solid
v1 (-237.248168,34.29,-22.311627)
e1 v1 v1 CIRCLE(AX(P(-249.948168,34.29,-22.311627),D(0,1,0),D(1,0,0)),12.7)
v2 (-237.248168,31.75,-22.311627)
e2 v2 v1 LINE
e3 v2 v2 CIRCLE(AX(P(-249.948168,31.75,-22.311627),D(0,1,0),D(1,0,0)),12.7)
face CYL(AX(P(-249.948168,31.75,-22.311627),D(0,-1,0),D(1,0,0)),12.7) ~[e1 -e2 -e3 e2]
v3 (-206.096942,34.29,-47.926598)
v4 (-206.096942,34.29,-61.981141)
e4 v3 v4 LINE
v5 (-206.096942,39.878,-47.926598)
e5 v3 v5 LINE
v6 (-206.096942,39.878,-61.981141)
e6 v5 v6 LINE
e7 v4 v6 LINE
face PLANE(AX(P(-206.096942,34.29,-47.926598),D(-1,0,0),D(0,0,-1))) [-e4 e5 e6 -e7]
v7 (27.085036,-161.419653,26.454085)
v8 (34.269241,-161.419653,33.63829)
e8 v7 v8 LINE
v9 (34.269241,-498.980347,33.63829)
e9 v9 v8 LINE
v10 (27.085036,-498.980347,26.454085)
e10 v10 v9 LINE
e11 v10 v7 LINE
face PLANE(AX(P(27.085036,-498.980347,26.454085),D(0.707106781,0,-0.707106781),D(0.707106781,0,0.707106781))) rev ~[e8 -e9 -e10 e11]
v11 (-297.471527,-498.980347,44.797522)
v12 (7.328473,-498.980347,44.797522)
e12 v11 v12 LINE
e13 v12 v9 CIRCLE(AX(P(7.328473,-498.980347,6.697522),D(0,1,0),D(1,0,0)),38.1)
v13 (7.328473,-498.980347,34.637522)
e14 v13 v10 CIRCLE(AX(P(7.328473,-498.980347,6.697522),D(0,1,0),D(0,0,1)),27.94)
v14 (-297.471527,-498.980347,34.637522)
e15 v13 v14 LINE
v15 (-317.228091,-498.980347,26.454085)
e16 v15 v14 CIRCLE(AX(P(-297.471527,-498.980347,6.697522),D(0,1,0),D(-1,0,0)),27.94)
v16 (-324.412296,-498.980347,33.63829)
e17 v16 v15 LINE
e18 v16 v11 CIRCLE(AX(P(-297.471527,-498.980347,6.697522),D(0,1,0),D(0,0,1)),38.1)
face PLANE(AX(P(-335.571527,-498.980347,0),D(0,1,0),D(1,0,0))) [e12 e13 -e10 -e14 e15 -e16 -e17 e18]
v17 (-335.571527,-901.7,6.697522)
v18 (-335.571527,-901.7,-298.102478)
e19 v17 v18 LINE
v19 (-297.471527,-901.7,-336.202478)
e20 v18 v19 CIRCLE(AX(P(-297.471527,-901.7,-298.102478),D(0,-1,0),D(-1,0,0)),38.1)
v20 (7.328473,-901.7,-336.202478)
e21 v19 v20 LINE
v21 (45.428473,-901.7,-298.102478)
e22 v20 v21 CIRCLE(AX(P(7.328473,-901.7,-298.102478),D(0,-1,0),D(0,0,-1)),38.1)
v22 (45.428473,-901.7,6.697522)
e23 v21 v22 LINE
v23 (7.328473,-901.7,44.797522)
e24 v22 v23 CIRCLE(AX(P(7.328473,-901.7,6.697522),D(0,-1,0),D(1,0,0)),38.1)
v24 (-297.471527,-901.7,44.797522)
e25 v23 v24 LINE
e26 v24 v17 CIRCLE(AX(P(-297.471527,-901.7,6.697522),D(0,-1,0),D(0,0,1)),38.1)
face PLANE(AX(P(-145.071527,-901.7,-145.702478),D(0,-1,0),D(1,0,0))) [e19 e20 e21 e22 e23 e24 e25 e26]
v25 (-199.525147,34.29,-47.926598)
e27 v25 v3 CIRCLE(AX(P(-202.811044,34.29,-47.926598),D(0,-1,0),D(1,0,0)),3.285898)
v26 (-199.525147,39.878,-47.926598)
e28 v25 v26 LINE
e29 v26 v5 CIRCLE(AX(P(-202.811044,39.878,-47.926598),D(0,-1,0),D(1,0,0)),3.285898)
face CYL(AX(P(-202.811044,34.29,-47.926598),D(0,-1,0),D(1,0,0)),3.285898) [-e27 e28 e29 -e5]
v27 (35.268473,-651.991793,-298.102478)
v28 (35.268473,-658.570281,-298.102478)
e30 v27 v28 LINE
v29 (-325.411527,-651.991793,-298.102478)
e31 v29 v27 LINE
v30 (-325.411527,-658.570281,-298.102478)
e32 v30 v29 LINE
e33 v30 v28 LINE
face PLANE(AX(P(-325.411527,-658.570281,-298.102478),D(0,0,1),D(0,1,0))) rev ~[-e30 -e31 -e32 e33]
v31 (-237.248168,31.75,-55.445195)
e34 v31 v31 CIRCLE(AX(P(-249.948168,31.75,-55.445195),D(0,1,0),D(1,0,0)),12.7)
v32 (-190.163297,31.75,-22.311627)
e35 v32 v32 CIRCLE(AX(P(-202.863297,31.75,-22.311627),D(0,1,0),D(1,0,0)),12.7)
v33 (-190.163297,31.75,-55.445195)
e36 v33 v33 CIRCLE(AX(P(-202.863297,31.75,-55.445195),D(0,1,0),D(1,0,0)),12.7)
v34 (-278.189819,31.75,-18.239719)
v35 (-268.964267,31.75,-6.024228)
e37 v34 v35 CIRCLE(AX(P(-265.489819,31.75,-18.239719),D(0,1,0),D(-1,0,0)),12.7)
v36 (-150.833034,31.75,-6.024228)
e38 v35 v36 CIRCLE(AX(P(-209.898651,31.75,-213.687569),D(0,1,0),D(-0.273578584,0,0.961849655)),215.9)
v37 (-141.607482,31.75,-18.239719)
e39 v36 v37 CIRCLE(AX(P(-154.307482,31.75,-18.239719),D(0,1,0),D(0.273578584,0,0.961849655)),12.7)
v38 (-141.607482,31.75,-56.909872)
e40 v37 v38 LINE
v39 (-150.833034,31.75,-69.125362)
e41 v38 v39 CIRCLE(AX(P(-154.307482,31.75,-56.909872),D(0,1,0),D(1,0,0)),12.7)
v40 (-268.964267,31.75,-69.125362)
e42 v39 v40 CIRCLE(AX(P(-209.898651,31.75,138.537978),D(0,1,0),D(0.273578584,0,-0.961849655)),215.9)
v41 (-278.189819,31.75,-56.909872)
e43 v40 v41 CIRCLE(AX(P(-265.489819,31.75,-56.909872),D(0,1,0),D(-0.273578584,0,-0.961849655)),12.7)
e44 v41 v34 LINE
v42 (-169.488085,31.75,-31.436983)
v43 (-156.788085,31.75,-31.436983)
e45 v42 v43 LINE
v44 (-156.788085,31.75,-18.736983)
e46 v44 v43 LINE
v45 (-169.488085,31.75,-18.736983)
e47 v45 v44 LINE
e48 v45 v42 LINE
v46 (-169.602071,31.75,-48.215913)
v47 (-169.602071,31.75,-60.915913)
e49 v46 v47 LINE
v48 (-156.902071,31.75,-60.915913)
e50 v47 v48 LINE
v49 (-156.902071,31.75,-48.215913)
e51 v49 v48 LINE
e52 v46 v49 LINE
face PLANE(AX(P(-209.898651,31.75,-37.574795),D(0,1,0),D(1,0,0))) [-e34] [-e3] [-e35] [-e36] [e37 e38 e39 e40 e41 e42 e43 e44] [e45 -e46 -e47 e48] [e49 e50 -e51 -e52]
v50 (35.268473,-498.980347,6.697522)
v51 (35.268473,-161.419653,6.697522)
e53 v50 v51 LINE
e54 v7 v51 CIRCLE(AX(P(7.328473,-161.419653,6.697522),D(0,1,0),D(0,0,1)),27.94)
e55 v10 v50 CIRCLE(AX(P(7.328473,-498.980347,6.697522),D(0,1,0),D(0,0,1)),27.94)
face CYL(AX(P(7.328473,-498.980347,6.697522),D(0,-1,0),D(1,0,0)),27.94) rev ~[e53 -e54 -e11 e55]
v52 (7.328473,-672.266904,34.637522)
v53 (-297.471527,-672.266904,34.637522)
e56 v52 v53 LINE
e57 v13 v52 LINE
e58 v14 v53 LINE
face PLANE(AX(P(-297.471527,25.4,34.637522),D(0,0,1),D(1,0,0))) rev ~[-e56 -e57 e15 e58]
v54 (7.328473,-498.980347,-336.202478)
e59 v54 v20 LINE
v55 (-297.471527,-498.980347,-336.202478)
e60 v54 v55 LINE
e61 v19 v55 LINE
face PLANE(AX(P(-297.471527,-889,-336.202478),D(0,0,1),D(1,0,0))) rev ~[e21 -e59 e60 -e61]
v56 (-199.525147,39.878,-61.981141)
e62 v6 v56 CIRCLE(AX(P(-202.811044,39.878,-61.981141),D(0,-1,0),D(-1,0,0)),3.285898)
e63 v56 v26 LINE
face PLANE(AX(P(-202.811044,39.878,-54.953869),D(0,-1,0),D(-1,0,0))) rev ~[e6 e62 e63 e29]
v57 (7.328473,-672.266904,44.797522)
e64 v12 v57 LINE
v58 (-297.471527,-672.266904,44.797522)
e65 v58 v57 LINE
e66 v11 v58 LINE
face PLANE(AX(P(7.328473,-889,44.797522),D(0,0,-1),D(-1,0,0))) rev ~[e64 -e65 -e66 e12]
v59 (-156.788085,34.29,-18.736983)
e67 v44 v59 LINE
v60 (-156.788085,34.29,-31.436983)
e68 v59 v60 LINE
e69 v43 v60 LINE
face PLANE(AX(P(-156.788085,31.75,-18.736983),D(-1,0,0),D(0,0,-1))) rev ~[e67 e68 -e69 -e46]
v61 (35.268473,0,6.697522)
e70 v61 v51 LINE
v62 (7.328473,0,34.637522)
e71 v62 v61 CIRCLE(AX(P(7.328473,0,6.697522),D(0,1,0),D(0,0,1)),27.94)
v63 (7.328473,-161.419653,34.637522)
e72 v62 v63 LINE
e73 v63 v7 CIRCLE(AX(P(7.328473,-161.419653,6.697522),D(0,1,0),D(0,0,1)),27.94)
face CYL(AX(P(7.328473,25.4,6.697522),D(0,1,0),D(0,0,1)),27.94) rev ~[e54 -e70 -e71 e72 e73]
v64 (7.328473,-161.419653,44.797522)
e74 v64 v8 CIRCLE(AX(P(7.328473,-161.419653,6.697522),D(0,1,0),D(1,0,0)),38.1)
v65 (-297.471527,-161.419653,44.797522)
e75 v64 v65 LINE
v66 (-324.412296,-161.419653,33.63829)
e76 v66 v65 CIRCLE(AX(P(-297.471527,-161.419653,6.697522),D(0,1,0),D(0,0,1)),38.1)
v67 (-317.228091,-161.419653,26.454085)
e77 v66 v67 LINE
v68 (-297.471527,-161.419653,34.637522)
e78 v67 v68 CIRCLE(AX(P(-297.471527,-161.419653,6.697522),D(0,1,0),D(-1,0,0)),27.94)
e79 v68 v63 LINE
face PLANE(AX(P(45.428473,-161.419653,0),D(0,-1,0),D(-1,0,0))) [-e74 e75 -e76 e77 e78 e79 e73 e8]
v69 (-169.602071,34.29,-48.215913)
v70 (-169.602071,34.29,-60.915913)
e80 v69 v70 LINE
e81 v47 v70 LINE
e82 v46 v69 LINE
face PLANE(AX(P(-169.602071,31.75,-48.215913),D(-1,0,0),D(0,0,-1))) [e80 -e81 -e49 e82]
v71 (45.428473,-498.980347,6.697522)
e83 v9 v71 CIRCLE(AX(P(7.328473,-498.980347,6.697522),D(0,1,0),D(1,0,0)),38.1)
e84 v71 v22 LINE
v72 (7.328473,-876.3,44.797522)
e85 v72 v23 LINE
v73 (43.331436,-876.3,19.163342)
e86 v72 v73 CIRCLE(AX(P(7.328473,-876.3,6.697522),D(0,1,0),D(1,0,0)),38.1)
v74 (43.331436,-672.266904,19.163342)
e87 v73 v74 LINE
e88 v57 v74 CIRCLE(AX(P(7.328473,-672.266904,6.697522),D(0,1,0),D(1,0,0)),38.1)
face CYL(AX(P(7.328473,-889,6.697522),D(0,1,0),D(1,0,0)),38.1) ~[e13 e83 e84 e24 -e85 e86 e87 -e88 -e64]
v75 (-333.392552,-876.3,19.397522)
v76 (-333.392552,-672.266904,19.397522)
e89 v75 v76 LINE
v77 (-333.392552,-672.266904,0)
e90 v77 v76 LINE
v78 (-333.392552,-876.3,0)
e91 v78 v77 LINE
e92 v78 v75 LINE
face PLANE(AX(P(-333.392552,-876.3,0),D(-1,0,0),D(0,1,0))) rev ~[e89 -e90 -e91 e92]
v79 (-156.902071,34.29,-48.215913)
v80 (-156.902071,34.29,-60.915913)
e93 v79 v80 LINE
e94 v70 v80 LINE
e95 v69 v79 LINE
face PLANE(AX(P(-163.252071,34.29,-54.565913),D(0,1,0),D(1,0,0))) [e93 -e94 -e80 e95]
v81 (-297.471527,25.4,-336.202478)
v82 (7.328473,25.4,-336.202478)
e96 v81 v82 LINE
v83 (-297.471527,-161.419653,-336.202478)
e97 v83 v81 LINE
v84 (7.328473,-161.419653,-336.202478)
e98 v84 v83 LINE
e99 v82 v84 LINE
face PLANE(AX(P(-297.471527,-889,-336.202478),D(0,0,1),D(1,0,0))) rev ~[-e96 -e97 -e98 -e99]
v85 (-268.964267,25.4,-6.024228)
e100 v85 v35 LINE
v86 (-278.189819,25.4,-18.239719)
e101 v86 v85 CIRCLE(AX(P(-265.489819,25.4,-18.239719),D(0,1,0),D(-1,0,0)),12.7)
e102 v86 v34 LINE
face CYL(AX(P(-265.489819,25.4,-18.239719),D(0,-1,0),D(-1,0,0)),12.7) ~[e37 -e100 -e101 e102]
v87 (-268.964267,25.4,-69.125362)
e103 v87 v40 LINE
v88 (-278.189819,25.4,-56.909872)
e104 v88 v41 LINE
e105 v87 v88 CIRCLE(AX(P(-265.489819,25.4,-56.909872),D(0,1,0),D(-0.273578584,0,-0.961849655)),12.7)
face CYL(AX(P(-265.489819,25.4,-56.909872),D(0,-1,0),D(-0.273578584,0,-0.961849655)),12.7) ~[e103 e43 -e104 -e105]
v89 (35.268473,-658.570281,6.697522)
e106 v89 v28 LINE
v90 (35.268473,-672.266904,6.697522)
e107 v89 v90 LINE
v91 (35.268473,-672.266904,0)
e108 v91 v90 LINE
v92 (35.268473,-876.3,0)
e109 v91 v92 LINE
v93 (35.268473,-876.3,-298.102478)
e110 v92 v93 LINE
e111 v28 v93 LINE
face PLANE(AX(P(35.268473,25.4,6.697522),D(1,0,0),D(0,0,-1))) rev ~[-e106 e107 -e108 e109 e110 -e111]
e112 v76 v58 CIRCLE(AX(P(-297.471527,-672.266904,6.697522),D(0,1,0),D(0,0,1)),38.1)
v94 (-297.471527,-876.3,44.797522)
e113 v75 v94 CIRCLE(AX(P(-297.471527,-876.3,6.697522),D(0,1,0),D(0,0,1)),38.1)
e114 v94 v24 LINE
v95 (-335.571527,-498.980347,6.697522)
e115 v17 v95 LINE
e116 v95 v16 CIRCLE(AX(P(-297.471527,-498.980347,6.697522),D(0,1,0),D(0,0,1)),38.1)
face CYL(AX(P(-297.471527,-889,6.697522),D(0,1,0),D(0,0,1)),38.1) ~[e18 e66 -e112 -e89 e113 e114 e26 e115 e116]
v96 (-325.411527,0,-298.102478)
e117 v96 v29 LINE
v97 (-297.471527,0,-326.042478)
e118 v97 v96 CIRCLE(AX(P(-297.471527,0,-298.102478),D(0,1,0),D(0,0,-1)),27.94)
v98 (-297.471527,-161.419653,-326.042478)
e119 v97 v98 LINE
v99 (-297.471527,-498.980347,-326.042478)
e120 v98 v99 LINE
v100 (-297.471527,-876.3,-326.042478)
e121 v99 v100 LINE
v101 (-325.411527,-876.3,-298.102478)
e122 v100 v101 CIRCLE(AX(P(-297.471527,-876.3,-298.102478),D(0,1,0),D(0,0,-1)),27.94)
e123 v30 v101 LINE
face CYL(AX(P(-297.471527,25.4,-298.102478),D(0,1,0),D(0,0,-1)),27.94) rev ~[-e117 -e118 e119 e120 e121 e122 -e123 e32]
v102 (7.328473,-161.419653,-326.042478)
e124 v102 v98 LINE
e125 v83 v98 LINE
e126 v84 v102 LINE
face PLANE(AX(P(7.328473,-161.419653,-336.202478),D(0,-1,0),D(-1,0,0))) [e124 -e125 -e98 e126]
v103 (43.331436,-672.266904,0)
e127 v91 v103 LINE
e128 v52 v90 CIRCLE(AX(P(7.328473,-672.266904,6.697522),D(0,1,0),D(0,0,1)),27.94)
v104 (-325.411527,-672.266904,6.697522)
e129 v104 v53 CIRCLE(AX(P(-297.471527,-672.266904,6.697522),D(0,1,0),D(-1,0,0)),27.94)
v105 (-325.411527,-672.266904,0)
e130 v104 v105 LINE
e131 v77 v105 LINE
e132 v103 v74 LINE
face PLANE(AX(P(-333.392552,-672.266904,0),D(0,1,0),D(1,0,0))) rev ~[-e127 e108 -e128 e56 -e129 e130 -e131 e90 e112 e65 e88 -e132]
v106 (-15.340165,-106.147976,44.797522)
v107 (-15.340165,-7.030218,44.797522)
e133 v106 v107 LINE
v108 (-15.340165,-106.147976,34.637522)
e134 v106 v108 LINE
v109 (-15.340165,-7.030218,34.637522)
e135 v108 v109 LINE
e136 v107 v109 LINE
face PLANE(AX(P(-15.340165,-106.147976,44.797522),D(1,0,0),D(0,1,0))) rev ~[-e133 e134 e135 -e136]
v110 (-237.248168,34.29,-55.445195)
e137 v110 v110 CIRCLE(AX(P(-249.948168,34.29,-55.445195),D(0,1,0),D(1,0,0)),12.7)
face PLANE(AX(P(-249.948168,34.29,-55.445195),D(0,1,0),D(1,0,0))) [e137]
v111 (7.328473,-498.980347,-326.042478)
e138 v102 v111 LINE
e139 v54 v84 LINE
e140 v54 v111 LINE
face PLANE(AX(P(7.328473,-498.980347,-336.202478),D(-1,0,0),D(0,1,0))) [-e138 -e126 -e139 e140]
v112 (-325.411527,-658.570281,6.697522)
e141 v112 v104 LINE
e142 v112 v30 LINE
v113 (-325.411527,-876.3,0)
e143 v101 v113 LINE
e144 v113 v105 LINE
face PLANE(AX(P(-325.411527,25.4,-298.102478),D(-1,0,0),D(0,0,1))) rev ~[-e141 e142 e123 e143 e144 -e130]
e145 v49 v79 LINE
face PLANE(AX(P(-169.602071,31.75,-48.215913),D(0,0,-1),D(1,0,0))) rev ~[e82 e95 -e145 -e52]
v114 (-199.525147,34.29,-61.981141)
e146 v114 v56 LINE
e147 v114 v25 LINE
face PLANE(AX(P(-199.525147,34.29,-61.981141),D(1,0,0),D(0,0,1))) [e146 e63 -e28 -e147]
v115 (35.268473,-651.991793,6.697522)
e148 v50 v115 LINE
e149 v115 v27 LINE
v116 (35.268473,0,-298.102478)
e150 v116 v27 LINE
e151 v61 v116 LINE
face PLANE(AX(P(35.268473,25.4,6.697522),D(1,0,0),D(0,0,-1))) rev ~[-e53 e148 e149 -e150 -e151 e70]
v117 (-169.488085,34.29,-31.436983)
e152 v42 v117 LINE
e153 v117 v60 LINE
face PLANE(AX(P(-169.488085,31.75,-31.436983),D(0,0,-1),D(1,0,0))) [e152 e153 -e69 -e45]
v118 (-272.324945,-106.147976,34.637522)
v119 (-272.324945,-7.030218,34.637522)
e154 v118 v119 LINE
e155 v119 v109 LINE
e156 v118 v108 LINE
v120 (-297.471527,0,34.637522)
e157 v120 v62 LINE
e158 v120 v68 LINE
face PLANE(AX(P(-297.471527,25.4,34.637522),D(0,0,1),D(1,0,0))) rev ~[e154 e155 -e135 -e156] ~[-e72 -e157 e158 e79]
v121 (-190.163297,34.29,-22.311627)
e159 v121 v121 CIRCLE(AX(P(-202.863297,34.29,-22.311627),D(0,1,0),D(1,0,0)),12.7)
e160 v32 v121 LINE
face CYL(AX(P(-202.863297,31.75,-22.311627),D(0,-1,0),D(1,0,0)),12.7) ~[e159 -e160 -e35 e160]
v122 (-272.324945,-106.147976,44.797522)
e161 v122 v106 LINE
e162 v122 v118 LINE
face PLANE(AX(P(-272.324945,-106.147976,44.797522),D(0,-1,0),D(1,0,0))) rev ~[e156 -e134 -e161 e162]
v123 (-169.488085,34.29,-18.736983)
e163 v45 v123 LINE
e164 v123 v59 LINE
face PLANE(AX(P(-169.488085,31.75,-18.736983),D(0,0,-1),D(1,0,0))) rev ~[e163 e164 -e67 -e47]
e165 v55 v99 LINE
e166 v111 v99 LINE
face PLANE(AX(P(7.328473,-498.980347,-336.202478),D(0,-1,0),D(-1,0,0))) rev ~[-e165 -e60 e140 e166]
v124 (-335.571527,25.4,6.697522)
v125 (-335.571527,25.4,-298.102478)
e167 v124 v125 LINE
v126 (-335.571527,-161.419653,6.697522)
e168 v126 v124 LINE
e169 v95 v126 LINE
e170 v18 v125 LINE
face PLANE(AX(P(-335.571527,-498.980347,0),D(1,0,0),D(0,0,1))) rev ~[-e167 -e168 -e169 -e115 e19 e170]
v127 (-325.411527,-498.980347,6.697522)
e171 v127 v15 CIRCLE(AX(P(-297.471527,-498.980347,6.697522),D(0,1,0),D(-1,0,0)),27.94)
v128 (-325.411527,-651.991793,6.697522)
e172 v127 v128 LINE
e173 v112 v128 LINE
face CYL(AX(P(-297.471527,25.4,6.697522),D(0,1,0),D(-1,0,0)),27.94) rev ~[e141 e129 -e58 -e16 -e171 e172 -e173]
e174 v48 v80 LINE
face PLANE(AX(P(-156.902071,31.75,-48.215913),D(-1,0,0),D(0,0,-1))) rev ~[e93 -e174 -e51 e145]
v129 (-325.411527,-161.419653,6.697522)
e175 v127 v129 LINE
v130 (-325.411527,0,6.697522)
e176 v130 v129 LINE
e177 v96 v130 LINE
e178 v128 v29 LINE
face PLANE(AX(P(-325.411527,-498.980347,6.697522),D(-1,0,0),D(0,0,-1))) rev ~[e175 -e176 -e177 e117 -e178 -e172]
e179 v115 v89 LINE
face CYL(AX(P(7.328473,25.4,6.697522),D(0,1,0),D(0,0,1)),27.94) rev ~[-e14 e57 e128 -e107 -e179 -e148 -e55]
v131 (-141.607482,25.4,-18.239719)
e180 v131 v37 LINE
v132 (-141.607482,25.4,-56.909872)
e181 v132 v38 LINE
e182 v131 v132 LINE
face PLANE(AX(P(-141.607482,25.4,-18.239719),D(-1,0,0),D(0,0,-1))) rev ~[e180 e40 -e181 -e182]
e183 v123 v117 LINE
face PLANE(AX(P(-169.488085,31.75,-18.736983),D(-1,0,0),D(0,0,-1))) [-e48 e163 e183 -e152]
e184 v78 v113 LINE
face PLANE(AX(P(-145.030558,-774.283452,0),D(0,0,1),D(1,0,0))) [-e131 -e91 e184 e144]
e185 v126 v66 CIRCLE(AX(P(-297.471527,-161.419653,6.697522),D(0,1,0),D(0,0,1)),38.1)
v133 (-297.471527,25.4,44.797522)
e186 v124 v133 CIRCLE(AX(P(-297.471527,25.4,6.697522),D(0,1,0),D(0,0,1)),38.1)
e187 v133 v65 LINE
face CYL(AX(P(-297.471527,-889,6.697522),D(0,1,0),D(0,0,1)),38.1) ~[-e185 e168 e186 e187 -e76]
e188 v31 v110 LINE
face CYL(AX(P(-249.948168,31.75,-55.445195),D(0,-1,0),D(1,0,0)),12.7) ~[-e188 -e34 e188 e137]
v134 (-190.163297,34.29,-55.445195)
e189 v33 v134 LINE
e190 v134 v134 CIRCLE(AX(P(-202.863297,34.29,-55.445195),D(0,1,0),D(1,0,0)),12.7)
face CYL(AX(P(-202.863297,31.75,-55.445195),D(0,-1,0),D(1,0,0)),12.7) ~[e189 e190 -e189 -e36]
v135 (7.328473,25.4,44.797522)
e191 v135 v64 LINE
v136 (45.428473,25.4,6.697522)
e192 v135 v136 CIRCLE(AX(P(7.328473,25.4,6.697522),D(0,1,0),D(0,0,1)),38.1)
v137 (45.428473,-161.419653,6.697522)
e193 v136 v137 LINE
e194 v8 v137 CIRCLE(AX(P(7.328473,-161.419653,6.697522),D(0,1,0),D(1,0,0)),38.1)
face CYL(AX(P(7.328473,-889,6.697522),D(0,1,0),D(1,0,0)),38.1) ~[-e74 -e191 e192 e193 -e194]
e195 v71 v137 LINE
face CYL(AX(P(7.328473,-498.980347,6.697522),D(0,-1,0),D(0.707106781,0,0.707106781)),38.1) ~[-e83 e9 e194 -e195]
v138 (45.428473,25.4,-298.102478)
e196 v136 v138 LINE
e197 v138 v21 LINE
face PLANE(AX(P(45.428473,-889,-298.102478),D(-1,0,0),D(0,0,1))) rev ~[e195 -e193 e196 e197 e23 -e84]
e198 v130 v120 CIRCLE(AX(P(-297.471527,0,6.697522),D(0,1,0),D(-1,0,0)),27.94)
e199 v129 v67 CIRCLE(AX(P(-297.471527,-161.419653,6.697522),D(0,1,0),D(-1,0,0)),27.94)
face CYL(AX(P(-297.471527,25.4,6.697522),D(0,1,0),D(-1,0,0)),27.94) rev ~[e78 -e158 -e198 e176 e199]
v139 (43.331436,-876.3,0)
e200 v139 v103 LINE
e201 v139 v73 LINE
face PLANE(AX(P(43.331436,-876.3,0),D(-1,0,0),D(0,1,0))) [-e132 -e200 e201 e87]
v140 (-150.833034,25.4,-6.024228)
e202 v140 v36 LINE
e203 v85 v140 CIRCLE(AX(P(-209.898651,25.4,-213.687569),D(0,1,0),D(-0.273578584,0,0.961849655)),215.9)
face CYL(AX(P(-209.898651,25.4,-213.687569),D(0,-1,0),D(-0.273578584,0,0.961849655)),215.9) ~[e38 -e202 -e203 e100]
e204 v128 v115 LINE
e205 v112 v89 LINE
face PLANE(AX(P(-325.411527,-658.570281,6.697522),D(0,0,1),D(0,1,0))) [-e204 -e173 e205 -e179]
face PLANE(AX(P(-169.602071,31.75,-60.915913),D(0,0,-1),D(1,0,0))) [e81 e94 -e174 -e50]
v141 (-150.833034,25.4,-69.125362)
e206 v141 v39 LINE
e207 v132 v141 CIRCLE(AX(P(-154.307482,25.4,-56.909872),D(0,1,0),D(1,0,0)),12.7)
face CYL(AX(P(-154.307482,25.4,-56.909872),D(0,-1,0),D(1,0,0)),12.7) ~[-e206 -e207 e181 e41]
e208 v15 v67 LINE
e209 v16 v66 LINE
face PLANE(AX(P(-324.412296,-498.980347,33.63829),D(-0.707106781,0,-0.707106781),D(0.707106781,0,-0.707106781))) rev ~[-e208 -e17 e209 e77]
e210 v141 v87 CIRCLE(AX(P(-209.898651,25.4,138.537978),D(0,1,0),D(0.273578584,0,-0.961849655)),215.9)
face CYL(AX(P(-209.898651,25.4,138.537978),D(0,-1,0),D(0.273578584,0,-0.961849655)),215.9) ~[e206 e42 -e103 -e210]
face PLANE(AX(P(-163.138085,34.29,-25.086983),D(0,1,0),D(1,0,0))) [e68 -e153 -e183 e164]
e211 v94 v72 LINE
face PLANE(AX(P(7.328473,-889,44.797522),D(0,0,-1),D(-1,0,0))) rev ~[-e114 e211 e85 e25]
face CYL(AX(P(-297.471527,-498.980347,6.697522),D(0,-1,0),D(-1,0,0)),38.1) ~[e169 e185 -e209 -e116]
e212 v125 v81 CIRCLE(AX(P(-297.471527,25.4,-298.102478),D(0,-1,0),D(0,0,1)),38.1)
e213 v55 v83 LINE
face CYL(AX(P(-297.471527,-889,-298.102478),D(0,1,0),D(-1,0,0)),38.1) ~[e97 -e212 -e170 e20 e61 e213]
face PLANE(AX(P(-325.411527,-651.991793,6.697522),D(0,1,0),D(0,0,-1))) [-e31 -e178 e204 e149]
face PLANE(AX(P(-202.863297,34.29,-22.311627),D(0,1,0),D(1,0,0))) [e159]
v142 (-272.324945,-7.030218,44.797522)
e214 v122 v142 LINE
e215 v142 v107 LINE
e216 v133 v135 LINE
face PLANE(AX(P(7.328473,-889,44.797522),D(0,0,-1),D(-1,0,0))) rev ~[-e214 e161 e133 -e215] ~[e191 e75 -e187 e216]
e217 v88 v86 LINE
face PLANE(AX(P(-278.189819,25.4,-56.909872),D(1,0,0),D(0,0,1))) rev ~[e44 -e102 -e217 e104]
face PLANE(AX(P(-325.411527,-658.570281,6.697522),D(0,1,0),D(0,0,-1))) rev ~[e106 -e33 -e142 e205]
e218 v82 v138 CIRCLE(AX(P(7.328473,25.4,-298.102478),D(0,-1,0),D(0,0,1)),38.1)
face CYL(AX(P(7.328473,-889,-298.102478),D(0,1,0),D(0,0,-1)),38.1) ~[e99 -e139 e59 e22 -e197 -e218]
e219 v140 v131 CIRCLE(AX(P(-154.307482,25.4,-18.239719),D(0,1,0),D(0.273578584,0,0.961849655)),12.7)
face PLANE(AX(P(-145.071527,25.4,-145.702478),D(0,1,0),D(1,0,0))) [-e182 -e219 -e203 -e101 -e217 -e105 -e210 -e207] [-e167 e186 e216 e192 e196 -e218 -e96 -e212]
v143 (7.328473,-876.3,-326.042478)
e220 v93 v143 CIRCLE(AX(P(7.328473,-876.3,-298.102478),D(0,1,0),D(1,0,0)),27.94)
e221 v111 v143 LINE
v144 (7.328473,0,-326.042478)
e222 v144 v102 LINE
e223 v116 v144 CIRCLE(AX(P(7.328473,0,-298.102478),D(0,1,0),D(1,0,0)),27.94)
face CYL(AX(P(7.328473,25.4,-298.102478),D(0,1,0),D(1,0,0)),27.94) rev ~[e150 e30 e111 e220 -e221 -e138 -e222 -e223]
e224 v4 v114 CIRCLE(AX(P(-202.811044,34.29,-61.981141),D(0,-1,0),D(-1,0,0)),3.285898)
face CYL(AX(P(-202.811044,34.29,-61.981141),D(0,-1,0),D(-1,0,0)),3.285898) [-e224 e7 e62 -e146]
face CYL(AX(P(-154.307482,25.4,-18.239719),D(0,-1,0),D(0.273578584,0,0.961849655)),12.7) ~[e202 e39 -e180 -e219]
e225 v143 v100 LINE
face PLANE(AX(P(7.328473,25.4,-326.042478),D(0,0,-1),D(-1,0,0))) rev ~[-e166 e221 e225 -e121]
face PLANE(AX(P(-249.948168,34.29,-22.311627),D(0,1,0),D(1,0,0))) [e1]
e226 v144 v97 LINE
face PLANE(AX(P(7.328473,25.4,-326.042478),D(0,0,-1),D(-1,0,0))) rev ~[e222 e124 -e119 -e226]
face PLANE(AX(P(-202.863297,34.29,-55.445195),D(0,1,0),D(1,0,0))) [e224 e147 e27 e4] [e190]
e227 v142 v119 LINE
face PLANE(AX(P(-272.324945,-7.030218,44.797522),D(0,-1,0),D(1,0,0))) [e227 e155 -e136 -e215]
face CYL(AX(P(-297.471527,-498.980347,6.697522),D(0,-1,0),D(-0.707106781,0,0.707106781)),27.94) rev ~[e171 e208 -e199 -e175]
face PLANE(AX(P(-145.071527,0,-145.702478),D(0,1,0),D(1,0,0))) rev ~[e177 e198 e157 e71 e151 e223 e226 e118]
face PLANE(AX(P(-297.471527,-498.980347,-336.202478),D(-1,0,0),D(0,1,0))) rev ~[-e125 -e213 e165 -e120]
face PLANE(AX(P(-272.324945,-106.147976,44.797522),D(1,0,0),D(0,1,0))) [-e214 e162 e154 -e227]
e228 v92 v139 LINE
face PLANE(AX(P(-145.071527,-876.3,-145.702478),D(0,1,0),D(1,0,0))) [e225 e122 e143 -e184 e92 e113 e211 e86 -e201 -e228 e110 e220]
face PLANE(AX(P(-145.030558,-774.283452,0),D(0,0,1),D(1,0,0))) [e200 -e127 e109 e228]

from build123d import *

# Parameters (mm, degrees)
SKETCH1_W            = 381
SKETCH1_H            = 381
BOSS_EXTRUDE1_DEPTH  = 25.4
BOSS_EXTRUDE2_DEPTH  = 6.35
SKETCH3_R            = 12.7
SKETCH3_W            = 12.7
SKETCH3_H            = 12.7
BOSS_EXTRUDE3_DEPTH  = 2.54
FILLET1_R            = 38.1
BOSS_EXTRUDE4_DEPTH  = 914.4
BOSS_EXTRUDE5_DEPTH  = 12.7
CUT_EXTRUDE2_DEPTH   = 167.894
SKETCH11_W           = 304.8
SKETCH11_H           = 337.560693512
CUT_EXTRUDE7_DEPTH   = 110.998
SKETCH14_W           = 376.723987394
SKETCH14_H           = 204.033096405
CUT_EXTRUDE9_DEPTH   = 672.066
BOSS_EXTRUDE7_DEPTH  = 12.7
BOSS_EXTRUDE8_REACH  = 372.84
SKETCH16_W           = 304.8
SKETCH16_H           = 6.578487437
SKETCH17_W           = 256.984779842
SKETCH17_H           = 99.117758391
CUT_EXTRUDE10_DEPTH  = 65.532
BOSS_EXTRUDE9_DEPTH  = 337.560694
BOSS_EXTRUDE10_DEPTH = 5.588


with BuildPart() as part:
    # Sketch1 → Boss-Extrude1 (new body)
    with BuildSketch(Plane(origin=(0, 0, 0), x_dir=(1, 0, 0), z_dir=(0, 1, 0))):
        with Locations((-145.071527203, 145.702478214)):
            Rectangle(SKETCH1_W, SKETCH1_H)
    extrude(amount=BOSS_EXTRUDE1_DEPTH)

    # Sketch2 → Boss-Extrude2 (add)
    with BuildSketch(Plane(origin=(0, 25.4, 0), x_dir=(1, 0, 0), z_dir=(0, 1, 0))):
        with BuildLine():
            Line((-278.18981895, 56.909871518), (-278.18981895, 18.239718765))
            ThreePointArc((-278.18981895, 18.239718765), (-275.624301912, 10.585814199), (-268.964266966, 6.024228149))
            ThreePointArc((-268.964266966, 6.024228149), (-209.898650693, -2.212431383), (-150.833034421, 6.024228149))
            ThreePointArc((-150.833034421, 6.024228149), (-144.172999475, 10.585814199), (-141.607482437, 18.239718765))
            Line((-141.607482437, 18.239718765), (-141.607482437, 56.909871518))
            ThreePointArc((-141.607482437, 56.909871518), (-144.172999475, 64.563776083), (-150.833034421, 69.125362134))
            ThreePointArc((-150.833034421, 69.125362134), (-209.898650693, 77.362021666), (-268.964266966, 69.125362134))
            ThreePointArc((-268.964266966, 69.125362134), (-275.624301912, 64.563776083), (-278.18981895, 56.909871518))
        make_face()
    extrude(amount=BOSS_EXTRUDE2_DEPTH)

    # Sketch3 → Boss-Extrude3 (add)
    with BuildSketch(Plane(origin=(0, 31.75, 0), x_dir=(1, 0, 0), z_dir=(0, 1, 0))):
        with Locations((-249.948168026, 55.44519483)):
            Circle(SKETCH3_R)
        with Locations((-249.948168026, 22.311626762)):
            Circle(SKETCH3_R)
        with Locations((-202.863297366, 55.44519483)):
            Circle(SKETCH3_R)
        with Locations((-202.863297366, 22.311626762)):
            Circle(SKETCH3_R)
        with Locations((-163.252071019, 54.565913405)):
            Rectangle(SKETCH3_W, SKETCH3_H)
        with Locations((-163.138085387, 25.086983412)):
            Rectangle(SKETCH3_W, SKETCH3_H)
    extrude(amount=BOSS_EXTRUDE3_DEPTH)

    # Fillet1
    fillet1_edges = [part.edges().sort_by_distance(p)[0] for p in [
        (-335.571527203, 12.7, -336.202478214),
        (45.428472797, 12.7, -336.202478214),
        (45.428472797, 12.7, 44.797521786),
        (-335.571527203, 12.7, 44.797521786),
    ]]
    fillet(fillet1_edges, radius=FILLET1_R)

    # Sketch6 → Boss-Extrude4 (add)
    with BuildSketch(Plane(origin=(0, 25.4, 0), x_dir=(1, 0, 0), z_dir=(0, 1, 0))):
        with BuildLine():
            Line((-335.571527203, 298.102478214), (-335.571527203, -6.697521786))
            ThreePointArc((-335.571527203, -6.697521786), (-324.412295566, -33.638290149), (-297.471527203, -44.797521786))
            Line((-297.471527203, -44.797521786), (7.328472797, -44.797521786))
            ThreePointArc((7.328472797, -44.797521786), (34.26924116, -33.638290149), (45.428472797, -6.697521786))
            Line((45.428472797, -6.697521786), (45.428472797, 298.102478214))
            ThreePointArc((45.428472797, 298.102478214), (34.26924116, 325.043246577), (7.328472797, 336.202478214))
            Line((7.328472797, 336.202478214), (-297.471527203, 336.202478214))
            ThreePointArc((-297.471527203, 336.202478214), (-324.412295566, 325.043246577), (-335.571527203, 298.102478214))
        make_face()
        with BuildLine():
            Line((7.328472797, 326.042478214), (-297.471527203, 326.042478214))
            ThreePointArc((-297.471527203, 326.042478214), (-317.22809067, 317.859041681), (-325.411527203, 298.102478214))
            Line((-325.411527203, 298.102478214), (-325.411527203, -6.697521786))
            ThreePointArc((-325.411527203, -6.697521786), (-317.22809067, -26.454085252), (-297.471527203, -34.637521786))
            Line((-297.471527203, -34.637521786), (7.328472797, -34.637521786))
            ThreePointArc((7.328472797, -34.637521786), (27.085036263, -26.454085252), (35.268472797, -6.697521786))
            Line((35.268472797, -6.697521786), (35.268472797, 298.102478214))
            ThreePointArc((35.268472797, 298.102478214), (27.085036263, 317.859041681), (7.328472797, 326.042478214))
        make_face(mode=Mode.SUBTRACT)
    extrude(amount=-BOSS_EXTRUDE4_DEPTH)

    # Sketch7 → Boss-Extrude5 (add)
    with BuildSketch(Plane.XZ.offset(889)):
        with BuildLine():
            Line((-297.471527203, -336.202478214), (7.328472797, -336.202478214))
            ThreePointArc((7.328472797, -336.202478214), (34.26924116, -325.043246577), (45.428472797, -298.102478214))
            Line((45.428472797, -298.102478214), (45.428472797, 6.697521786))
            ThreePointArc((45.428472797, 6.697521786), (34.26924116, 33.638290149), (7.328472797, 44.797521786))
            Line((7.328472797, 44.797521786), (-297.471527203, 44.797521786))
            ThreePointArc((-297.471527203, 44.797521786), (-324.412295566, 33.638290149), (-335.571527203, 6.697521786))
            Line((-335.571527203, 6.697521786), (-335.571527203, -298.102478214))
            ThreePointArc((-335.571527203, -298.102478214), (-324.412295566, -325.043246577), (-297.471527203, -336.202478214))
        make_face()
    extrude(amount=BOSS_EXTRUDE5_DEPTH)

    # Sketch9 → Cut-Extrude2 (cut)
    with BuildSketch(Plane.XY):
        with BuildLine():
            Line((45.428472797, -161.419653244), (-335.571527203, -161.419653244))
            Line((-335.571527203, -161.419653244), (-259.140976729, -229.136056455))
            ThreePointArc((-259.140976729, -229.136056455), (-145.071527203, -177.8), (-31.002077677, -229.136056455))
            Line((-31.002077677, -229.136056455), (45.428472797, -161.419653244))
        make_face()
        with BuildLine():
            Line((-335.571527203, -161.419653244), (-335.571527203, -498.980346756))
            Line((-335.571527203, -498.980346756), (-259.140976729, -431.263943545))
            ThreePointArc((-259.140976729, -431.263943545), (-297.471527203, -330.2), (-259.140976729, -229.136056455))
            Line((-259.140976729, -229.136056455), (-335.571527203, -161.419653244))
        make_face()
        with BuildLine():
            Line((-31.002077677, -431.263943545), (45.428472797, -498.980346756))
            Line((45.428472797, -498.980346756), (45.428472797, -161.419653244))
            Line((45.428472797, -161.419653244), (-31.002077677, -229.136056455))
            ThreePointArc((-31.002077677, -229.136056455), (-2.576011295, -276.155685349), (7.328472797, -330.2))
            ThreePointArc((7.328472797, -330.2), (-2.576011295, -384.244314651), (-31.002077677, -431.263943545))
        make_face()
        with BuildLine():
            Line((-259.140976729, -431.263943545), (-335.571527203, -498.980346756))
            Line((-335.571527203, -498.980346756), (45.428472797, -498.980346756))
            Line((45.428472797, -498.980346756), (-31.002077677, -431.263943545))
            ThreePointArc((-31.002077677, -431.263943545), (-145.071527203, -482.6), (-259.140976729, -431.263943545))
        make_face()
        with BuildLine():
            ThreePointArc((-259.140976729, -229.136056455), (-297.471527203, -330.2), (-259.140976729, -431.263943545))
            Line((-259.140976729, -431.263943545), (-145.071527203, -330.2))
            Line((-145.071527203, -330.2), (-259.140976729, -229.136056455))
        make_face()
        with BuildLine():
            Line((-145.071527203, -330.2), (-259.140976729, -431.263943545))
            ThreePointArc((-259.140976729, -431.263943545), (-145.071527203, -482.6), (-31.002077677, -431.263943545))
            Line((-31.002077677, -431.263943545), (-145.071527203, -330.2))
        make_face()
        with BuildLine():
            Line((-145.071527203, -330.2), (-31.002077677, -431.263943545))
            ThreePointArc((-31.002077677, -431.263943545), (-2.576011295, -384.244314651), (7.328472797, -330.2))
            ThreePointArc((7.328472797, -330.2), (-2.576011295, -276.155685349), (-31.002077677, -229.136056455))
            Line((-31.002077677, -229.136056455), (-145.071527203, -330.2))
        make_face()
        with BuildLine():
            ThreePointArc((-31.002077677, -229.136056455), (-145.071527203, -177.8), (-259.140976729, -229.136056455))
            Line((-259.140976729, -229.136056455), (-145.071527203, -330.2))
            Line((-145.071527203, -330.2), (-31.002077677, -229.136056455))
        make_face()
    extrude(amount=CUT_EXTRUDE2_DEPTH, mode=Mode.SUBTRACT)

    # Sketch11 → Cut-Extrude7 (cut)
    with BuildSketch(Plane(origin=(0, 0, -336.202478214), x_dir=(-1, 0, 0), z_dir=(0, 0, -1))):
        with Locations((145.071527203, -330.2)):
            Rectangle(SKETCH11_W, SKETCH11_H)
    extrude(amount=-CUT_EXTRUDE7_DEPTH, mode=Mode.SUBTRACT)

    # Sketch14 → Cut-Extrude9 (cut)
    with BuildSketch(Plane.XY):
        with Locations((-145.03055799, -774.283451797)):
            Rectangle(SKETCH14_W, SKETCH14_H)
    extrude(amount=CUT_EXTRUDE9_DEPTH, mode=Mode.SUBTRACT)

    # Sketch15 → Boss-Extrude7 (add)
    with BuildSketch(Plane(origin=(0, -889, 0), x_dir=(1, 0, 0), z_dir=(0, 1, 0))):
        with BuildLine():
            Line((35.268472797, -6.697521786), (35.268472797, 298.102478214))
            ThreePointArc((35.268472797, 298.102478214), (27.085036263, 317.859041681), (7.328472797, 326.042478214))
            Line((7.328472797, 326.042478214), (-297.471527203, 326.042478214))
            ThreePointArc((-297.471527203, 326.042478214), (-317.22809067, 317.859041681), (-325.411527203, 298.102478214))
            Line((-325.411527203, 298.102478214), (-325.411527203, -6.697521786))
            ThreePointArc((-325.411527203, -6.697521786), (-317.22809067, -26.454085252), (-297.471527203, -34.637521786))
            Line((-297.471527203, -34.637521786), (7.328472797, -34.637521786))
            ThreePointArc((7.328472797, -34.637521786), (27.085036263, -26.454085252), (35.268472797, -6.697521786))
        make_face()
    extrude(amount=BOSS_EXTRUDE7_DEPTH)

    # Sketch16 → Boss-Extrude8 (add, up to next)
    with BuildSketch(Plane(origin=(-325.411527203, 0, 0), x_dir=(0, 0, -1), z_dir=(1, 0, 0)), mode=Mode.PRIVATE) as boss_extrude8_sk1:
        with Locations((145.702478214, -655.281036831)):
            Rectangle(SKETCH16_W, SKETCH16_H)
    boss_extrude8_tool1 = extrude(boss_extrude8_sk1.sketch, amount=BOSS_EXTRUDE8_REACH, mode=Mode.PRIVATE) - part.part
    add(boss_extrude8_tool1.solids().sort_by_distance((-325.411527, -655.281037, -145.702478))[0])

    # Sketch17 → Cut-Extrude10 (cut)
    with BuildSketch(Plane.XY.offset(44.797521786)):
        with Locations((-143.832555223, -56.589097106)):
            Rectangle(SKETCH17_W, SKETCH17_H)
    extrude(amount=-CUT_EXTRUDE10_DEPTH, mode=Mode.SUBTRACT)

    # Sketch18 → Boss-Extrude9 (add)
    with BuildSketch(Plane(origin=(0, -498.980346756, 0), x_dir=(1, 0, 0), z_dir=(0, 1, 0))):
        with BuildLine():
            ThreePointArc((-335.571527203, -6.697521786), (-332.671337392, -21.277760559), (-324.412295566, -33.638290149))
            Line((-324.412295566, -33.638290149), (-317.22809067, -26.454085252))
            ThreePointArc((-317.22809067, -26.454085252), (-323.284721342, -17.389696886), (-325.411527203, -6.697521786))
            Line((-325.411527203, -6.697521786), (-325.411527203, 0))
            Line((-325.411527203, 0), (-335.571527203, 0))
            Line((-335.571527203, 0), (-335.571527203, -6.697521786))
        make_face()
        with BuildLine():
            Line((27.085036263, -26.454085252), (34.26924116, -33.638290149))
            ThreePointArc((34.26924116, -33.638290149), (42.528282985, -21.277760559), (45.428472797, -6.697521786))
            Line((45.428472797, -6.697521786), (45.428472797, 0))
            Line((45.428472797, 0), (35.268472797, 0))
            Line((35.268472797, 0), (35.268472797, -6.697521786))
            ThreePointArc((35.268472797, -6.697521786), (33.141666935, -17.389696886), (27.085036263, -26.454085252))
        make_face()
    extrude(amount=BOSS_EXTRUDE9_DEPTH)

    # Sketch19 → Boss-Extrude10 (add)
    with BuildSketch(Plane(origin=(0, 34.29, 0), x_dir=(1, 0, 0), z_dir=(0, 1, 0))):
        with BuildLine():
            Line((-199.52514655, 61.981140549), (-199.52514655, 47.926597628))
            ThreePointArc((-199.52514655, 47.926597628), (-202.811044116, 44.640700062), (-206.096941682, 47.926597628))
            Line((-206.096941682, 47.926597628), (-206.096941682, 61.981140549))
            ThreePointArc((-206.096941682, 61.981140549), (-202.811044116, 65.267038115), (-199.52514655, 61.981140549))
        make_face()
    extrude(amount=BOSS_EXTRUDE10_DEPTH)


solid = part.part
